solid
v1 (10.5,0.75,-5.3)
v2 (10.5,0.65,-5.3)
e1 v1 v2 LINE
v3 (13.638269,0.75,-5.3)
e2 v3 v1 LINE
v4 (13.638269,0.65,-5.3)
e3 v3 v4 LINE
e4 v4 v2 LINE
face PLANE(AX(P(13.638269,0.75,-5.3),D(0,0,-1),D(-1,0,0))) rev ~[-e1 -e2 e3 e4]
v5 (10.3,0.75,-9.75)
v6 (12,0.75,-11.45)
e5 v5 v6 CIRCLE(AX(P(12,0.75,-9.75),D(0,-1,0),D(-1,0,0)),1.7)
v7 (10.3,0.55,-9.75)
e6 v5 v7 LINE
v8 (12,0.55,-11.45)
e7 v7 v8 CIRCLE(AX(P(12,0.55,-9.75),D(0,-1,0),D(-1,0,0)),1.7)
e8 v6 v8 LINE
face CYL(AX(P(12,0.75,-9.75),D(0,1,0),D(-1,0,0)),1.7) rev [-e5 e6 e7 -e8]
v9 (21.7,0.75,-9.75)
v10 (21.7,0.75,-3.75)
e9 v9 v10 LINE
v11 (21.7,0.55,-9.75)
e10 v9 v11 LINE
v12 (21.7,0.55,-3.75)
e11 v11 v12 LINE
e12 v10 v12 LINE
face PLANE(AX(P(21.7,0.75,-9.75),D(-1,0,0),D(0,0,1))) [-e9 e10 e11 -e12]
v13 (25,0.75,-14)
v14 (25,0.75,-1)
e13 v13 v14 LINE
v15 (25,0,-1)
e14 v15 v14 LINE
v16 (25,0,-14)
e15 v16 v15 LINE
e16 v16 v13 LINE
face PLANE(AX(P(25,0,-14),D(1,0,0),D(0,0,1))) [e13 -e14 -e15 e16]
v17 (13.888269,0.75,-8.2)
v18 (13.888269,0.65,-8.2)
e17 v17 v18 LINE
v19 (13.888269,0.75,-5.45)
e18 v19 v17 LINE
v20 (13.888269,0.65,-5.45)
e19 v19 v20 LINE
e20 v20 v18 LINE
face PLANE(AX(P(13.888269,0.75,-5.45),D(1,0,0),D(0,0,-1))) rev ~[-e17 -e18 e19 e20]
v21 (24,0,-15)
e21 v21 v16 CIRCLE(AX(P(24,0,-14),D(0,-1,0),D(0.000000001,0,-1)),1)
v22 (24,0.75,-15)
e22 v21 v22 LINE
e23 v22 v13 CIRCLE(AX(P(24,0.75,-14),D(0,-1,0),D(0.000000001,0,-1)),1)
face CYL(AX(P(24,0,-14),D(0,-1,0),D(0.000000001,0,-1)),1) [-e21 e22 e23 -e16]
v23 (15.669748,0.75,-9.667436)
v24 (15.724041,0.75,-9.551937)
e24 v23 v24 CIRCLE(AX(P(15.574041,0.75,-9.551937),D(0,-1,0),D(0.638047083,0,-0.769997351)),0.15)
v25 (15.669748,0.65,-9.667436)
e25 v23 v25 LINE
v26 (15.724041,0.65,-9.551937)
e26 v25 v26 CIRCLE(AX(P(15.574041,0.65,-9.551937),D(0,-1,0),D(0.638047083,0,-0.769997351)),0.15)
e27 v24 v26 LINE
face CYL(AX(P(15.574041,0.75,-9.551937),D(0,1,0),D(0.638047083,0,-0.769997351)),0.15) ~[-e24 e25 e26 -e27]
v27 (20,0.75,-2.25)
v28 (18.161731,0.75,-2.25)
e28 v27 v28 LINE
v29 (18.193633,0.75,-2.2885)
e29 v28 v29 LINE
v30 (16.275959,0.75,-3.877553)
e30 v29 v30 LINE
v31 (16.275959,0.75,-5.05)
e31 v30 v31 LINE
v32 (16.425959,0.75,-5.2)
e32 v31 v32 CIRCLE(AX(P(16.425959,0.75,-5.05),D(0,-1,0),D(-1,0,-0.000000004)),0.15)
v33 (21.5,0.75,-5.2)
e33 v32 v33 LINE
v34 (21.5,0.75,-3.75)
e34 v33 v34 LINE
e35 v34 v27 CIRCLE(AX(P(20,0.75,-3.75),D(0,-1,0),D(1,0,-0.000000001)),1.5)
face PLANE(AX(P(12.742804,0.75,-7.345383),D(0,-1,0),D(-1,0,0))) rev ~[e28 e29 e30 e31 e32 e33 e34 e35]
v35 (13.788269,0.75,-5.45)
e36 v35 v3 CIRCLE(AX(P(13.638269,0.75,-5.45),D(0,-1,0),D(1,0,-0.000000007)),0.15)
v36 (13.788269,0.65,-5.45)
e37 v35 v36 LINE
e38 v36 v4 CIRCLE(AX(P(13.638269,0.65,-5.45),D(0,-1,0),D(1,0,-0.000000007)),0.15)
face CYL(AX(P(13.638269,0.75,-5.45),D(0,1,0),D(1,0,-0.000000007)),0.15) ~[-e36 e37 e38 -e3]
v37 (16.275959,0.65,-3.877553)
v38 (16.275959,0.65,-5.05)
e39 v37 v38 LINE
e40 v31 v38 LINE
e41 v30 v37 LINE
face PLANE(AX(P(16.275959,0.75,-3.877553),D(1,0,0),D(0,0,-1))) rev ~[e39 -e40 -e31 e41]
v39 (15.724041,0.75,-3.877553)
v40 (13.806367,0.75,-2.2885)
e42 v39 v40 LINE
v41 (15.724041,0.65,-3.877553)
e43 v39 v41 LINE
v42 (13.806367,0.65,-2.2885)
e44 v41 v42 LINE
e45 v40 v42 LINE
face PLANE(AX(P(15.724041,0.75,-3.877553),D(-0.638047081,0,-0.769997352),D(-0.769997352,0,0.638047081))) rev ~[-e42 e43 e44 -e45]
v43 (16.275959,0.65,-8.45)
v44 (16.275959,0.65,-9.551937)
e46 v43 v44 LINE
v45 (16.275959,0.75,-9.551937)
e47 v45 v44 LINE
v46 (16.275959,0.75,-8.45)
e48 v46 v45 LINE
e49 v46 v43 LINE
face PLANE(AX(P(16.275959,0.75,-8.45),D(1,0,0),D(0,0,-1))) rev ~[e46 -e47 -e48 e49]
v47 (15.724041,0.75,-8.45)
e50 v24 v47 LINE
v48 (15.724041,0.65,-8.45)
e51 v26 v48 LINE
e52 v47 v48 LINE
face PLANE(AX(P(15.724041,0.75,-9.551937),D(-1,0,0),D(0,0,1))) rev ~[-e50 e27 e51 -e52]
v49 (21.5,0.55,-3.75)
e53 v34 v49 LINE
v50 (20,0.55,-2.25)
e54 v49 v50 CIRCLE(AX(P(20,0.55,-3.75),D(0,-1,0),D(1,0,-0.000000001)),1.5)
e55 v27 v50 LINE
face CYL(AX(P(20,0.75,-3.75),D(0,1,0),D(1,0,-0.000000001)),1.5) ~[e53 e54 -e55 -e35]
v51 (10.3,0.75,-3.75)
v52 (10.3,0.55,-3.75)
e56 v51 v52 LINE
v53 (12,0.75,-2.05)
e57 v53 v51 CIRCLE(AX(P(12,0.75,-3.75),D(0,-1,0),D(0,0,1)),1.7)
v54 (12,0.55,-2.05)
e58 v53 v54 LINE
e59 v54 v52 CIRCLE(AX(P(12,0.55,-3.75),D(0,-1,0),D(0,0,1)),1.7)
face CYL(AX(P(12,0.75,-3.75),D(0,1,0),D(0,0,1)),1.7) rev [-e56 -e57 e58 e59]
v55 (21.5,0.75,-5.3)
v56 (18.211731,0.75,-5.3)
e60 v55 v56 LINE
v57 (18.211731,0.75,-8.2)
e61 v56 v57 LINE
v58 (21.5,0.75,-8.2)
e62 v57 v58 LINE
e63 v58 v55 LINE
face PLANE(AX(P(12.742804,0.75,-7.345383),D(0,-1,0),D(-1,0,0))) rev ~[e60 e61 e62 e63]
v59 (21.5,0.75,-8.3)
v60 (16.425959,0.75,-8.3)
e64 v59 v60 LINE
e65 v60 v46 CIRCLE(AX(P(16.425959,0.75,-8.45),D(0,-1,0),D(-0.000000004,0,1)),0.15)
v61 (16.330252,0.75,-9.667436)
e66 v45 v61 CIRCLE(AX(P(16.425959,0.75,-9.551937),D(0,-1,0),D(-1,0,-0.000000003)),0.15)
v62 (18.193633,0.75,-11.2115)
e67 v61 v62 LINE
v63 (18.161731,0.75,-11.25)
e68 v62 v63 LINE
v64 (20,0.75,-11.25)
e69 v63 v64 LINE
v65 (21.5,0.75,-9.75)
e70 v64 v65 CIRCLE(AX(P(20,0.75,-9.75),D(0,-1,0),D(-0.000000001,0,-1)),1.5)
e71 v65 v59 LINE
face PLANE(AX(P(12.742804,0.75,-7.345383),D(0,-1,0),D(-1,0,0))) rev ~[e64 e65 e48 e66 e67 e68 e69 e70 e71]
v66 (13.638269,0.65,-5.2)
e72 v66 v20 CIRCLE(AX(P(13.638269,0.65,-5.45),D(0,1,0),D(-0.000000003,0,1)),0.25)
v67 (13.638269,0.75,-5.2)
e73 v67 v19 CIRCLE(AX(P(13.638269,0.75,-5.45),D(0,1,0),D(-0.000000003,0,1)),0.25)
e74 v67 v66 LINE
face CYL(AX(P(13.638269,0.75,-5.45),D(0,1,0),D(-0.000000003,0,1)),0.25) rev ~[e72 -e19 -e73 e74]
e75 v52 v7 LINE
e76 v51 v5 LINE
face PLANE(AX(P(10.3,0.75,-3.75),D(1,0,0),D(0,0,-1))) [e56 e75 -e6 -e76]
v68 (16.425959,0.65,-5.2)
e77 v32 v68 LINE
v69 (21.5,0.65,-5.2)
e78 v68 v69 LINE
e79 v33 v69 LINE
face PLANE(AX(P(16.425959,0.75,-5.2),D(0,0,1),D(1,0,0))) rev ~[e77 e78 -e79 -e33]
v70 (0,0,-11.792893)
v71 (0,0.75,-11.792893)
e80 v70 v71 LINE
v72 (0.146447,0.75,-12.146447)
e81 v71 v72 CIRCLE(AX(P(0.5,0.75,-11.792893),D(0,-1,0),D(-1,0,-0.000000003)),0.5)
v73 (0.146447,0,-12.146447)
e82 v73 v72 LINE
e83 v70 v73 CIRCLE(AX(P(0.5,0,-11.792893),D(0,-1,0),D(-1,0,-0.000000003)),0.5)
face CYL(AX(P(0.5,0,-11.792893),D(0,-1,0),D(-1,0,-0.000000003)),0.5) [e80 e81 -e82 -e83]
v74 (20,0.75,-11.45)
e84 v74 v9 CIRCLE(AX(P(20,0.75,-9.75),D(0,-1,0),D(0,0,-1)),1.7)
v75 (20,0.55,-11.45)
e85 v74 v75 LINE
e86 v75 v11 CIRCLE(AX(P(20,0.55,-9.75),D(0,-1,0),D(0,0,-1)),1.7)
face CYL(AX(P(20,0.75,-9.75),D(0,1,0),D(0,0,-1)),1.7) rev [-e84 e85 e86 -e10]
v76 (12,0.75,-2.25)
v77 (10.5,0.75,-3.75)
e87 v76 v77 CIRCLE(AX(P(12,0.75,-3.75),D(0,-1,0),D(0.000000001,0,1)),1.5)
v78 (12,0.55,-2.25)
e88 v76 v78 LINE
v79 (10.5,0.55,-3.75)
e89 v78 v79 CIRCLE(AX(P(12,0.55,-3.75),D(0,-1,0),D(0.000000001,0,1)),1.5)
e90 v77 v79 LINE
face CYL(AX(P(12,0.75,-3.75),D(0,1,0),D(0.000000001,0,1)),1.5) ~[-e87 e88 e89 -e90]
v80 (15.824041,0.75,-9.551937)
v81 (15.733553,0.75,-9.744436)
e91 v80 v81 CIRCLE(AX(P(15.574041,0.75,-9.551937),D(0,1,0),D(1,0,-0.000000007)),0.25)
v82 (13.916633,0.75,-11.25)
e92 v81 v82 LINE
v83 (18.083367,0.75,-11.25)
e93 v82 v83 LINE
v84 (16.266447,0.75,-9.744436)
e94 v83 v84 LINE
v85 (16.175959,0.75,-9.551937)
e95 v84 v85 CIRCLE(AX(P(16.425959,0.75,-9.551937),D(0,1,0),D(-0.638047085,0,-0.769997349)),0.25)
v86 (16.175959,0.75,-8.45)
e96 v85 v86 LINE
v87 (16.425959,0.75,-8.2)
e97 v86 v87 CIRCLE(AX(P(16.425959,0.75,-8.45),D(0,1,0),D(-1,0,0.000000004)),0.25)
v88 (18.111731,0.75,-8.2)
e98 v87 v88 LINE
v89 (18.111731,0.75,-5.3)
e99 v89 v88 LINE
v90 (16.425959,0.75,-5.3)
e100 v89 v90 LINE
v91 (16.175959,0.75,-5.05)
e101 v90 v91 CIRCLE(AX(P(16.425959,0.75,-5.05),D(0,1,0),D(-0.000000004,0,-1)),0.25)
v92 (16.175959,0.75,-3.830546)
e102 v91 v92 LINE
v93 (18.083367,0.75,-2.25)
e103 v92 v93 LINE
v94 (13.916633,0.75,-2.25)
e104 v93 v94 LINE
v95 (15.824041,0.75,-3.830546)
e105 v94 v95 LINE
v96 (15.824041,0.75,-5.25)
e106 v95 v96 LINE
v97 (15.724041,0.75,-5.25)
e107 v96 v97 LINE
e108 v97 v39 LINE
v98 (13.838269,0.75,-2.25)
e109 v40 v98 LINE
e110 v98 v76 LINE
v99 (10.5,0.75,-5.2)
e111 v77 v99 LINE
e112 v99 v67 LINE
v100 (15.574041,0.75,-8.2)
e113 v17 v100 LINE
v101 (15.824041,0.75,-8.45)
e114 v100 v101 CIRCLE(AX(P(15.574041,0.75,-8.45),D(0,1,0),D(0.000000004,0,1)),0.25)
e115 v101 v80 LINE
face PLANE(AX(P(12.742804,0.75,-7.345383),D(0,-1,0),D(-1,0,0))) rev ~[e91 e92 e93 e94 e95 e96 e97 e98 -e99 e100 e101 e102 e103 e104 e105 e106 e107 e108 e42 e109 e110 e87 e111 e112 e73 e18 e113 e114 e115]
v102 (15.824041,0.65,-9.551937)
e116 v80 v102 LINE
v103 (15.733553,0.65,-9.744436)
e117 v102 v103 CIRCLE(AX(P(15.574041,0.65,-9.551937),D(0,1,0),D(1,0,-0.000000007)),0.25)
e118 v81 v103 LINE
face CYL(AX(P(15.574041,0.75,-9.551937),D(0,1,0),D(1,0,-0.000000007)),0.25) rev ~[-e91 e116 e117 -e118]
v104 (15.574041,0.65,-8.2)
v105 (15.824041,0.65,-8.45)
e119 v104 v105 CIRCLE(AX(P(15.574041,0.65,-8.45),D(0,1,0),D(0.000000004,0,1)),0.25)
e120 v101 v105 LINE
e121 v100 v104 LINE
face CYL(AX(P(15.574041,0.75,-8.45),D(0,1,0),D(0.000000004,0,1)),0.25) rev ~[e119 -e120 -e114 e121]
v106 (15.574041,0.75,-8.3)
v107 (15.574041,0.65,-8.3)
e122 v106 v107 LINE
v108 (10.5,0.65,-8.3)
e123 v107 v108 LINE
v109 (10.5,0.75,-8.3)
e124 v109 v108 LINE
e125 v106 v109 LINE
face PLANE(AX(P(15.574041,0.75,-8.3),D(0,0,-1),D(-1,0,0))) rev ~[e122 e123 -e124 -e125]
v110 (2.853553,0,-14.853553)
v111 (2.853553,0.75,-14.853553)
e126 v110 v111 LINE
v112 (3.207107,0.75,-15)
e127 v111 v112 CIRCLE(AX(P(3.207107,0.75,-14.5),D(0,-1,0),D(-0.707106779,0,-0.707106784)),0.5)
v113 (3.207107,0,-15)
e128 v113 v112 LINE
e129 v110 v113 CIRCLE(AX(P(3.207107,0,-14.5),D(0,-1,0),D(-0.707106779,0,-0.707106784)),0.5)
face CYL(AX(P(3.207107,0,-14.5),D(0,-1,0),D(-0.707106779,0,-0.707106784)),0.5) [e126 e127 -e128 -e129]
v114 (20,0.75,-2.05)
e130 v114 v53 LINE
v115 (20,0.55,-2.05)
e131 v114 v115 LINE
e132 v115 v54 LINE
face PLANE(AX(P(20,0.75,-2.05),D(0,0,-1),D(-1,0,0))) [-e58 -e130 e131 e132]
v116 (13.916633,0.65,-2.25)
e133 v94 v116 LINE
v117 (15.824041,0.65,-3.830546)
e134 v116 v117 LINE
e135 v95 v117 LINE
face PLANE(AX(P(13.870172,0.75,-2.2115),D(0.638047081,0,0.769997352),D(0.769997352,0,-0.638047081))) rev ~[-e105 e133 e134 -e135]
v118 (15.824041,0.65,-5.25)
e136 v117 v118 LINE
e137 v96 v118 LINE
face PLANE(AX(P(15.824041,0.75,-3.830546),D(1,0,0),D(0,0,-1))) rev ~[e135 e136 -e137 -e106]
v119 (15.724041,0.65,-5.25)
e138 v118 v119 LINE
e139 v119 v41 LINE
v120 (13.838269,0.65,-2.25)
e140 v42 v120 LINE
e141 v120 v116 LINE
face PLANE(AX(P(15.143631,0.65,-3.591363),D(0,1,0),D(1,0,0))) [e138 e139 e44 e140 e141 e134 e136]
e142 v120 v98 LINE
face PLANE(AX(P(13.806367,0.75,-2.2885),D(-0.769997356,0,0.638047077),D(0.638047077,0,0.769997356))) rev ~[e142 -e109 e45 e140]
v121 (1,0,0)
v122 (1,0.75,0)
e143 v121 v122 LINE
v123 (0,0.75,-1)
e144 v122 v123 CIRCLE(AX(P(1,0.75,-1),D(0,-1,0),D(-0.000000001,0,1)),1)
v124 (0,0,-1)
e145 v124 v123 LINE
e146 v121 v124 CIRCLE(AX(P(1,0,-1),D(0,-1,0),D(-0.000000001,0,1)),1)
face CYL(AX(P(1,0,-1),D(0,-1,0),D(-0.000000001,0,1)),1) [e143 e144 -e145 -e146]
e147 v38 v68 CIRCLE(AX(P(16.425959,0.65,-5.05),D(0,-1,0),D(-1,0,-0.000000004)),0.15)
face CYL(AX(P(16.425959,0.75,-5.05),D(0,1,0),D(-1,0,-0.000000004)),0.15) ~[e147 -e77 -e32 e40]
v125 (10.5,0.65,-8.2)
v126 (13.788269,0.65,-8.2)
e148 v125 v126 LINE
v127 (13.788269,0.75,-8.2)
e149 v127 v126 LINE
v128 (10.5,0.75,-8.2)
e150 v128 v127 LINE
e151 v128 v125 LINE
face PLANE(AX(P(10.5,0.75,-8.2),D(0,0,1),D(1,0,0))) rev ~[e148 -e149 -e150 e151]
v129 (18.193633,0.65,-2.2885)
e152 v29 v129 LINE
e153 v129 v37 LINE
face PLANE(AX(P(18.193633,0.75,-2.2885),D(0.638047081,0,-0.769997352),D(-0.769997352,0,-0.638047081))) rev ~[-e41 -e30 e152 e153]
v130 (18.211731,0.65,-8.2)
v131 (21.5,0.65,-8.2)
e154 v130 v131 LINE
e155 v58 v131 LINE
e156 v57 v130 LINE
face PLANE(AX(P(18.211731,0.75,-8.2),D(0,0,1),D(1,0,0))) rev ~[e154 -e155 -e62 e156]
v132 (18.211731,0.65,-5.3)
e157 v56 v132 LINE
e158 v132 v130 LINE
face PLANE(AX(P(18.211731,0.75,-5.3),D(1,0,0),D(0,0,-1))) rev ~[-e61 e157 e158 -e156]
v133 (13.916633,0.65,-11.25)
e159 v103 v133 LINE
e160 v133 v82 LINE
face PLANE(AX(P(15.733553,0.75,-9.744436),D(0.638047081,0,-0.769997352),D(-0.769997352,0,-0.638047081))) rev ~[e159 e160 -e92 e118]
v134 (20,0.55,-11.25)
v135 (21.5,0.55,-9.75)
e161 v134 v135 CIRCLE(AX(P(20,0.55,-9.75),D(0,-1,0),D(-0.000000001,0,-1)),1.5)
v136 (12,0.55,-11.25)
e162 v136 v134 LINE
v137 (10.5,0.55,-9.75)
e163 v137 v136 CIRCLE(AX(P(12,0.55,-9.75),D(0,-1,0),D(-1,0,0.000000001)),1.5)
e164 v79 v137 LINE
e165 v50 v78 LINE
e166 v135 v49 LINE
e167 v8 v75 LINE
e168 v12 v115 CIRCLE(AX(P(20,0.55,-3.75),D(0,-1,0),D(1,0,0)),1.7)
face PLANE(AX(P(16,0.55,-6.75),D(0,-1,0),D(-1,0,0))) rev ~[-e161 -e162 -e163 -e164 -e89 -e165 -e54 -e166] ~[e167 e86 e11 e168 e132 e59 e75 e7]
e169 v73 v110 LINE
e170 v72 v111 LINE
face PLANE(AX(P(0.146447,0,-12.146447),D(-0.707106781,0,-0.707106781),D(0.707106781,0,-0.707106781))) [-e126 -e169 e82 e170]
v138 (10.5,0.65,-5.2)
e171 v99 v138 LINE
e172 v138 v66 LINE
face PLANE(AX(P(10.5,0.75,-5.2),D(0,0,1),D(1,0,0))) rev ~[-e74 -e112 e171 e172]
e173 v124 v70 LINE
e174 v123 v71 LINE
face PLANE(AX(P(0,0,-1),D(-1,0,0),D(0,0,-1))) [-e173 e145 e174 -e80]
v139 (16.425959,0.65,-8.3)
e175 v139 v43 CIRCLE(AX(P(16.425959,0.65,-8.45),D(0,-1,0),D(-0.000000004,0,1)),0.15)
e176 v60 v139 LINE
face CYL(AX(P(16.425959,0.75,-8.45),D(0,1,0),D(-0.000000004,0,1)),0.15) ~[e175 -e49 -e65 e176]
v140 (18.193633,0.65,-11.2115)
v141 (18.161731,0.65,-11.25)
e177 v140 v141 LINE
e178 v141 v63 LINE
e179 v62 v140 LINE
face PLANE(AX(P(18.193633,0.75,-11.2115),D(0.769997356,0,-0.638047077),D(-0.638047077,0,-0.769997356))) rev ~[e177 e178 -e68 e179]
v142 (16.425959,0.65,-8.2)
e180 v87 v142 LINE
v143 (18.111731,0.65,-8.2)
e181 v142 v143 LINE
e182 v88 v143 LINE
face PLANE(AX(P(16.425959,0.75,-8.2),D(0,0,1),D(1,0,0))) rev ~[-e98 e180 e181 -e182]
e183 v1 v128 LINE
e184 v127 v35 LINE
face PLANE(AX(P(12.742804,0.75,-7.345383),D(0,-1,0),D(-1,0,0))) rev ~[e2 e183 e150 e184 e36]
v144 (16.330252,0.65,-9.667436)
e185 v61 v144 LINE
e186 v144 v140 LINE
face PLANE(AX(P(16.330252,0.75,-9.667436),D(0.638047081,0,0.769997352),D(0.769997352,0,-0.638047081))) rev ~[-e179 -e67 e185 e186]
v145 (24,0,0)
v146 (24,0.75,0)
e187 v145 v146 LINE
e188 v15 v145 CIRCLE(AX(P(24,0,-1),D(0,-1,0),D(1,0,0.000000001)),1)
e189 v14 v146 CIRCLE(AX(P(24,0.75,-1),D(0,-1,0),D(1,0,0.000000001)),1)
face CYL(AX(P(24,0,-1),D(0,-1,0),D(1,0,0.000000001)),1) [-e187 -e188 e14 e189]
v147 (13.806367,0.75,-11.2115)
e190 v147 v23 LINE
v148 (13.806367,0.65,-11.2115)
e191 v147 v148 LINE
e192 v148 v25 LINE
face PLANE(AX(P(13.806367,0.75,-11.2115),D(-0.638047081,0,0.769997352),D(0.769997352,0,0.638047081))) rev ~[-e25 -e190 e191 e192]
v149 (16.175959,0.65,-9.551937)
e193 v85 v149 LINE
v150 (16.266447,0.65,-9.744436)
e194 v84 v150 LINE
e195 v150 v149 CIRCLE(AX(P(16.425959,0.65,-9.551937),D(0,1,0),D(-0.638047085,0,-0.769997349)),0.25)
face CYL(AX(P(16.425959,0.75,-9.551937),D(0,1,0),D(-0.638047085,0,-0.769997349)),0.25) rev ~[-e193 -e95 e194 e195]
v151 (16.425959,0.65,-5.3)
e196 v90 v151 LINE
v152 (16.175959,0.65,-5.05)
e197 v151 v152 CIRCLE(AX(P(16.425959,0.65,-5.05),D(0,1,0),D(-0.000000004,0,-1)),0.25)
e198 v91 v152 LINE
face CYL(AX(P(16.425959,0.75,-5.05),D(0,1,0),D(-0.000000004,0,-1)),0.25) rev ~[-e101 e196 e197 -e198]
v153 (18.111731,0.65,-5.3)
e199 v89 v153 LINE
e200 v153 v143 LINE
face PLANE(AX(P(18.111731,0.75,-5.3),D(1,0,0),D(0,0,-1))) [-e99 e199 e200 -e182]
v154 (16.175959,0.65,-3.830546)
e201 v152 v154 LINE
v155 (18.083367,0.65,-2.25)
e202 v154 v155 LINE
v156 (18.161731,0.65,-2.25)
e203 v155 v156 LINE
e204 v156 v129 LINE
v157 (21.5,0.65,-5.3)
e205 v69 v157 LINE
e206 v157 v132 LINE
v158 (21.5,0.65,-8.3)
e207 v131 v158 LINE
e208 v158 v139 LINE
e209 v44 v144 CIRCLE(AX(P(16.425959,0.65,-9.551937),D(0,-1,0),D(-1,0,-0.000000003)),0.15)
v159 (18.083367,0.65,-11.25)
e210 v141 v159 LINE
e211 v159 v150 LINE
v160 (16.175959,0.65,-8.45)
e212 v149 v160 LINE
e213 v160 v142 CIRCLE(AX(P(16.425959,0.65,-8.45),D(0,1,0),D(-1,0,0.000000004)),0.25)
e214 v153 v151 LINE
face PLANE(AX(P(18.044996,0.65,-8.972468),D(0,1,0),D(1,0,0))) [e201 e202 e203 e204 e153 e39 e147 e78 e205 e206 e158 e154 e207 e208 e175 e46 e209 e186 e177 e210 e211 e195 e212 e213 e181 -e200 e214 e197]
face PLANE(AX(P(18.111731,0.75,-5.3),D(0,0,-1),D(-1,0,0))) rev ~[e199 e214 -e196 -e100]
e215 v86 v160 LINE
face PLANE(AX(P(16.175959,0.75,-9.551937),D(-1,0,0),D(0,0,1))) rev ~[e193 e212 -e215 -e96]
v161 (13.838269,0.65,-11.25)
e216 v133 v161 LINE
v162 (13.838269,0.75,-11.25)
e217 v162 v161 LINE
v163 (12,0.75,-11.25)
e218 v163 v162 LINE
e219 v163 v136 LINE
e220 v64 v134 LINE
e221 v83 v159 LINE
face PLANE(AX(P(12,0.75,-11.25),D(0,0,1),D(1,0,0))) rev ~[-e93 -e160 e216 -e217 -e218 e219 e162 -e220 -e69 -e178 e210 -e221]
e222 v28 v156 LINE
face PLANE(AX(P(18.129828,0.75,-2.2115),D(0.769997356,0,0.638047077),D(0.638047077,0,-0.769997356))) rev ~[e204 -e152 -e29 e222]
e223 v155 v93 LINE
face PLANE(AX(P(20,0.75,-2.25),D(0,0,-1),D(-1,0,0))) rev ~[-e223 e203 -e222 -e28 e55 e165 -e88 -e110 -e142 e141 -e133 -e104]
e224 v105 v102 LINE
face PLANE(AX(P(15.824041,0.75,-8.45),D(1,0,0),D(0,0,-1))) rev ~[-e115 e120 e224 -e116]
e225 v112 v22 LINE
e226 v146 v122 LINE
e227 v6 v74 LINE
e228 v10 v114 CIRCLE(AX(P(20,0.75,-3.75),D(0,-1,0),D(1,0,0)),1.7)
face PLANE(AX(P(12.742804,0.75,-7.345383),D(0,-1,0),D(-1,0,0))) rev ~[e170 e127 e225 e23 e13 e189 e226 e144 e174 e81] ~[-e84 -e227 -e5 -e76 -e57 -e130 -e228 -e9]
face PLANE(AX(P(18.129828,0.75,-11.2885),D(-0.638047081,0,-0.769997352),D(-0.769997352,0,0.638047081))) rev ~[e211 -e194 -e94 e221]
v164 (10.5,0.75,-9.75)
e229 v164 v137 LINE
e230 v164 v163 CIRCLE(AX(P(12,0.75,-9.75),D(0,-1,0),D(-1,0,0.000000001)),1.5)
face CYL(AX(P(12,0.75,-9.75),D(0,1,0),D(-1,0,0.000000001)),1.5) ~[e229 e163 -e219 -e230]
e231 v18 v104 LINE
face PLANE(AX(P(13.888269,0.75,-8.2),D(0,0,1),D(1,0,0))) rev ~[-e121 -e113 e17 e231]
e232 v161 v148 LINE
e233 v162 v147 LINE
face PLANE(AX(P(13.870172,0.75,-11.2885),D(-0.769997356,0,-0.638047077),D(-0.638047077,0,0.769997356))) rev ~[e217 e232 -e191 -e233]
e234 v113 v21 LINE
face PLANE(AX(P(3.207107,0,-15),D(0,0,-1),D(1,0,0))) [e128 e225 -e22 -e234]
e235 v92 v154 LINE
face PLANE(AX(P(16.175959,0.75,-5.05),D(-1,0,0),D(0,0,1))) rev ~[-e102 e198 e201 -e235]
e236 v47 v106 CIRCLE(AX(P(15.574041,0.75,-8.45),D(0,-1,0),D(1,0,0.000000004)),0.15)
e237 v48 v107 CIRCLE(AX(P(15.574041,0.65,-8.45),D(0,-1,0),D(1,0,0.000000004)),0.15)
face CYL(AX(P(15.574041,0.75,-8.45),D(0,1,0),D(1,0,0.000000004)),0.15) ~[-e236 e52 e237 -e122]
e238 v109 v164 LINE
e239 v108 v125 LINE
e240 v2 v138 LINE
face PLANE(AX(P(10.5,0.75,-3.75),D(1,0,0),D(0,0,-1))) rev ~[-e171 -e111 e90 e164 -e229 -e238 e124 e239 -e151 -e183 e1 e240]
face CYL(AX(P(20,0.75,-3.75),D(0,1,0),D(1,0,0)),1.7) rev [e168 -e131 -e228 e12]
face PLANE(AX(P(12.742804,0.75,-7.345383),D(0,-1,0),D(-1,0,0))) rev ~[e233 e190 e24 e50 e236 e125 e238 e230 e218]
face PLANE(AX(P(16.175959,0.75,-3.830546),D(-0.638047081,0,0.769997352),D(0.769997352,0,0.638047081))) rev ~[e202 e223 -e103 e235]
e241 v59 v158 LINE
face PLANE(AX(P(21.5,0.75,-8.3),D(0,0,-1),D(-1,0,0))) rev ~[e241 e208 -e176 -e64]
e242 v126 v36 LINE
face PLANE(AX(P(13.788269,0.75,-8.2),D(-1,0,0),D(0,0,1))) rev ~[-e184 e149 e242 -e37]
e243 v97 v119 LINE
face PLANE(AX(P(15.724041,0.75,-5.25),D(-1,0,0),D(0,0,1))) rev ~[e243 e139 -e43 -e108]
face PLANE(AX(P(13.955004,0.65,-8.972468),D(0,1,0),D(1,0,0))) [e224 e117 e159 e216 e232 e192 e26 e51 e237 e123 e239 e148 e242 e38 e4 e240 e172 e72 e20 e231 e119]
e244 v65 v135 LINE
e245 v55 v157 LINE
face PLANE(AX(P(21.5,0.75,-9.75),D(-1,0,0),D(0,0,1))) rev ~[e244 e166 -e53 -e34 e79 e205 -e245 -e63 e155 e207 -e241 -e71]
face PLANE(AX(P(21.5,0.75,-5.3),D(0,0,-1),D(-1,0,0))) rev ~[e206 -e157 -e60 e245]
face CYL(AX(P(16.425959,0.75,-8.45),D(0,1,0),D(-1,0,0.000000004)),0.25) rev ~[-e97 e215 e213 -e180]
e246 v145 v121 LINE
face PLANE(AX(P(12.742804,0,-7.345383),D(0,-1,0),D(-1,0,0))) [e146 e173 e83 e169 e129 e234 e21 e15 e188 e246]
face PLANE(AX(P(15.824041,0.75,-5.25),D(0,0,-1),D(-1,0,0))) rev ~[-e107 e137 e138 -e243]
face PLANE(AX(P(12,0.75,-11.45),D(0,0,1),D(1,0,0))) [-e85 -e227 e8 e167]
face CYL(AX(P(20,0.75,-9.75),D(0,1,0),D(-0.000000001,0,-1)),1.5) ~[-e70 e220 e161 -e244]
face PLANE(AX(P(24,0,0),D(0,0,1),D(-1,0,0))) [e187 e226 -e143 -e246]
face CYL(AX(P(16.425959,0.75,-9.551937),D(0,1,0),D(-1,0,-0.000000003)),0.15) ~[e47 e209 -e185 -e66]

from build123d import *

# Parameters (mm, degrees)
EXTRUDE1_DEPTH          = 0.75
CUT_EXTRUDE_THIN1_DEPTH = 0.2
SKETCH3_W               = 0.1
SKETCH3_H               = 3
CUT_EXTRUDE_THIN6_DEPTH = 0.1


with BuildPart() as part:
    # Sketch1 → Extrude1 (new body)
    with BuildSketch(Plane(origin=(0, 0, 0), x_dir=(1, 0, 0), z_dir=(0, 1, 0))):
        with BuildLine():
            Line((0.146446609, 12.146446609), (2.853553391, 14.853553391))
            ThreePointArc((2.853553391, 14.853553391), (3.015765065, 14.961939766), (3.207106781, 15))
            Line((3.207106781, 15), (24, 15))
            ThreePointArc((24, 15), (24.707106781, 14.707106781), (25, 14))
            Line((25, 14), (25, 1))
            ThreePointArc((25, 1), (24.707106781, 0.292893219), (24, 0))
            Line((24, 0), (1, 0))
            ThreePointArc((1, 0), (0.292893219, 0.292893219), (0, 1))
            Line((0, 1), (0, 11.792893219))
            ThreePointArc((0, 11.792893219), (0.038060234, 11.984234935), (0.146446609, 12.146446609))
        make_face()
    extrude(amount=EXTRUDE1_DEPTH)

    # Sketch2 → Cut-Extrude-Thin1 (cut)
    with BuildSketch(Plane(origin=(0, 0.75, 0), x_dir=(1, 0, 0), z_dir=(0, 1, 0))):
        with BuildLine():
            Line((12, 11.45), (20, 11.45))
            ThreePointArc((20, 11.45), (21.202081528, 10.952081528), (21.7, 9.75))
            Line((21.7, 9.75), (21.7, 3.75))
            ThreePointArc((21.7, 3.75), (21.202081528, 2.547918472), (20, 2.05))
            Line((20, 2.05), (12, 2.05))
            ThreePointArc((12, 2.05), (10.797918472, 2.547918472), (10.3, 3.75))
            Line((10.3, 3.75), (10.3, 9.75))
            ThreePointArc((10.3, 9.75), (10.797918472, 10.952081528), (12, 11.45))
        make_face()
        with BuildLine():
            Line((12, 11.25), (20, 11.25))
            ThreePointArc((20, 11.25), (21.060660172, 10.810660172), (21.5, 9.75))
            Line((21.5, 9.75), (21.5, 3.75))
            ThreePointArc((21.5, 3.75), (21.060660172, 2.689339828), (20, 2.25))
            Line((20, 2.25), (12, 2.25))
            ThreePointArc((12, 2.25), (10.939339828, 2.689339828), (10.5, 3.75))
            Line((10.5, 3.75), (10.5, 9.75))
            ThreePointArc((10.5, 9.75), (10.939339828, 10.810660172), (12, 11.25))
        make_face(mode=Mode.SUBTRACT)
    extrude(amount=-CUT_EXTRUDE_THIN1_DEPTH, mode=Mode.SUBTRACT)

    # Sketch3 → Cut-Extrude-Thin6 (cut)
    with BuildSketch(Plane(origin=(0, 0.75, 0), x_dir=(1, 0, 0), z_dir=(0, 1, 0))):
        with BuildLine():
            Line((10.5, 8.2), (15.574041177, 8.2))
            ThreePointArc((15.574041177, 8.2), (15.750817872, 8.273223305), (15.824041177, 8.45))
            Line((15.824041177, 8.45), (15.824041177, 9.551936806))
            ThreePointArc((15.824041177, 9.551936806), (15.800290975, 9.658290126), (15.733552947, 9.744436144))
            Line((15.733552947, 9.744436144), (13.870171679, 11.288499868))
            Line((13.870171679, 11.288499868), (13.806366971, 11.211500132))
            Line((13.806366971, 11.211500132), (15.669748239, 9.667436409))
            ThreePointArc((15.669748239, 9.667436409), (15.709791056, 9.615748798), (15.724041177, 9.551936806))
            Line((15.724041177, 9.551936806), (15.724041177, 8.45))
            ThreePointArc((15.724041177, 8.45), (15.680107194, 8.343933983), (15.574041177, 8.3))
            Line((15.574041177, 8.3), (10.5, 8.3))
            Line((10.5, 8.3), (10.5, 8.2))
        make_face()
        with BuildLine():
            Line((21.5, 8.3), (16.425958823, 8.3))
            ThreePointArc((16.425958823, 8.3), (16.319892806, 8.343933983), (16.275958823, 8.45))
            Line((16.275958823, 8.45), (16.275958823, 9.551936806))
            ThreePointArc((16.275958823, 9.551936806), (16.290208944, 9.615748798), (16.330251761, 9.667436409))
            Line((16.330251761, 9.667436409), (18.193633029, 11.211500132))
            Line((18.193633029, 11.211500132), (18.129828321, 11.288499868))
            Line((18.129828321, 11.288499868), (16.266447053, 9.744436144))
            ThreePointArc((16.266447053, 9.744436144), (16.199709025, 9.658290126), (16.175958823, 9.551936806))
            Line((16.175958823, 9.551936806), (16.175958823, 8.45))
            ThreePointArc((16.175958823, 8.45), (16.249182128, 8.273223305), (16.425958823, 8.2))
            Line((16.425958823, 8.2), (21.5, 8.2))
            Line((21.5, 8.2), (21.5, 8.3))
        make_face()
        with BuildLine():
            Line((21.5, 5.3), (16.425958823, 5.3))
            ThreePointArc((16.425958823, 5.3), (16.249182128, 5.226776695), (16.175958823, 5.05))
            Line((16.175958823, 5.05), (16.175958823, 3.830545608))
            Line((16.175958823, 3.830545608), (18.129828321, 2.211500132))
            Line((18.129828321, 2.211500132), (18.193633029, 2.288499868))
            Line((18.193633029, 2.288499868), (16.275958823, 3.877552643))
            Line((16.275958823, 3.877552643), (16.275958823, 5.05))
            ThreePointArc((16.275958823, 5.05), (16.319892806, 5.156066017), (16.425958823, 5.2))
            Line((16.425958823, 5.2), (21.5, 5.2))
            Line((21.5, 5.2), (21.5, 5.3))
        make_face()
        Polygon((15.724041177, 5.25), (15.724041177, 3.877552643), (13.806366971, 2.288499868), (13.870171679, 2.211500132), (15.824041177, 3.830545608), (15.824041177, 5.25), align=None)
        with BuildLine():
            Line((10.5, 5.2), (13.638269325, 5.2))
            ThreePointArc((13.638269325, 5.2), (13.815046021, 5.273223305), (13.888269325, 5.45))
            Line((13.888269325, 5.45), (13.888269325, 8.25))
            Line((13.888269325, 8.25), (13.788269325, 8.25))
            Line((13.788269325, 8.25), (13.788269325, 5.45))
            ThreePointArc((13.788269325, 5.45), (13.744335343, 5.343933983), (13.638269325, 5.3))
            Line((13.638269325, 5.3), (10.5, 5.3))
            Line((10.5, 5.3), (10.5, 5.2))
        make_face()
        with Locations((18.161730675, 6.75)):
            Rectangle(SKETCH3_W, SKETCH3_H)
    extrude(amount=-CUT_EXTRUDE_THIN6_DEPTH, mode=Mode.SUBTRACT)


solid = part.part
